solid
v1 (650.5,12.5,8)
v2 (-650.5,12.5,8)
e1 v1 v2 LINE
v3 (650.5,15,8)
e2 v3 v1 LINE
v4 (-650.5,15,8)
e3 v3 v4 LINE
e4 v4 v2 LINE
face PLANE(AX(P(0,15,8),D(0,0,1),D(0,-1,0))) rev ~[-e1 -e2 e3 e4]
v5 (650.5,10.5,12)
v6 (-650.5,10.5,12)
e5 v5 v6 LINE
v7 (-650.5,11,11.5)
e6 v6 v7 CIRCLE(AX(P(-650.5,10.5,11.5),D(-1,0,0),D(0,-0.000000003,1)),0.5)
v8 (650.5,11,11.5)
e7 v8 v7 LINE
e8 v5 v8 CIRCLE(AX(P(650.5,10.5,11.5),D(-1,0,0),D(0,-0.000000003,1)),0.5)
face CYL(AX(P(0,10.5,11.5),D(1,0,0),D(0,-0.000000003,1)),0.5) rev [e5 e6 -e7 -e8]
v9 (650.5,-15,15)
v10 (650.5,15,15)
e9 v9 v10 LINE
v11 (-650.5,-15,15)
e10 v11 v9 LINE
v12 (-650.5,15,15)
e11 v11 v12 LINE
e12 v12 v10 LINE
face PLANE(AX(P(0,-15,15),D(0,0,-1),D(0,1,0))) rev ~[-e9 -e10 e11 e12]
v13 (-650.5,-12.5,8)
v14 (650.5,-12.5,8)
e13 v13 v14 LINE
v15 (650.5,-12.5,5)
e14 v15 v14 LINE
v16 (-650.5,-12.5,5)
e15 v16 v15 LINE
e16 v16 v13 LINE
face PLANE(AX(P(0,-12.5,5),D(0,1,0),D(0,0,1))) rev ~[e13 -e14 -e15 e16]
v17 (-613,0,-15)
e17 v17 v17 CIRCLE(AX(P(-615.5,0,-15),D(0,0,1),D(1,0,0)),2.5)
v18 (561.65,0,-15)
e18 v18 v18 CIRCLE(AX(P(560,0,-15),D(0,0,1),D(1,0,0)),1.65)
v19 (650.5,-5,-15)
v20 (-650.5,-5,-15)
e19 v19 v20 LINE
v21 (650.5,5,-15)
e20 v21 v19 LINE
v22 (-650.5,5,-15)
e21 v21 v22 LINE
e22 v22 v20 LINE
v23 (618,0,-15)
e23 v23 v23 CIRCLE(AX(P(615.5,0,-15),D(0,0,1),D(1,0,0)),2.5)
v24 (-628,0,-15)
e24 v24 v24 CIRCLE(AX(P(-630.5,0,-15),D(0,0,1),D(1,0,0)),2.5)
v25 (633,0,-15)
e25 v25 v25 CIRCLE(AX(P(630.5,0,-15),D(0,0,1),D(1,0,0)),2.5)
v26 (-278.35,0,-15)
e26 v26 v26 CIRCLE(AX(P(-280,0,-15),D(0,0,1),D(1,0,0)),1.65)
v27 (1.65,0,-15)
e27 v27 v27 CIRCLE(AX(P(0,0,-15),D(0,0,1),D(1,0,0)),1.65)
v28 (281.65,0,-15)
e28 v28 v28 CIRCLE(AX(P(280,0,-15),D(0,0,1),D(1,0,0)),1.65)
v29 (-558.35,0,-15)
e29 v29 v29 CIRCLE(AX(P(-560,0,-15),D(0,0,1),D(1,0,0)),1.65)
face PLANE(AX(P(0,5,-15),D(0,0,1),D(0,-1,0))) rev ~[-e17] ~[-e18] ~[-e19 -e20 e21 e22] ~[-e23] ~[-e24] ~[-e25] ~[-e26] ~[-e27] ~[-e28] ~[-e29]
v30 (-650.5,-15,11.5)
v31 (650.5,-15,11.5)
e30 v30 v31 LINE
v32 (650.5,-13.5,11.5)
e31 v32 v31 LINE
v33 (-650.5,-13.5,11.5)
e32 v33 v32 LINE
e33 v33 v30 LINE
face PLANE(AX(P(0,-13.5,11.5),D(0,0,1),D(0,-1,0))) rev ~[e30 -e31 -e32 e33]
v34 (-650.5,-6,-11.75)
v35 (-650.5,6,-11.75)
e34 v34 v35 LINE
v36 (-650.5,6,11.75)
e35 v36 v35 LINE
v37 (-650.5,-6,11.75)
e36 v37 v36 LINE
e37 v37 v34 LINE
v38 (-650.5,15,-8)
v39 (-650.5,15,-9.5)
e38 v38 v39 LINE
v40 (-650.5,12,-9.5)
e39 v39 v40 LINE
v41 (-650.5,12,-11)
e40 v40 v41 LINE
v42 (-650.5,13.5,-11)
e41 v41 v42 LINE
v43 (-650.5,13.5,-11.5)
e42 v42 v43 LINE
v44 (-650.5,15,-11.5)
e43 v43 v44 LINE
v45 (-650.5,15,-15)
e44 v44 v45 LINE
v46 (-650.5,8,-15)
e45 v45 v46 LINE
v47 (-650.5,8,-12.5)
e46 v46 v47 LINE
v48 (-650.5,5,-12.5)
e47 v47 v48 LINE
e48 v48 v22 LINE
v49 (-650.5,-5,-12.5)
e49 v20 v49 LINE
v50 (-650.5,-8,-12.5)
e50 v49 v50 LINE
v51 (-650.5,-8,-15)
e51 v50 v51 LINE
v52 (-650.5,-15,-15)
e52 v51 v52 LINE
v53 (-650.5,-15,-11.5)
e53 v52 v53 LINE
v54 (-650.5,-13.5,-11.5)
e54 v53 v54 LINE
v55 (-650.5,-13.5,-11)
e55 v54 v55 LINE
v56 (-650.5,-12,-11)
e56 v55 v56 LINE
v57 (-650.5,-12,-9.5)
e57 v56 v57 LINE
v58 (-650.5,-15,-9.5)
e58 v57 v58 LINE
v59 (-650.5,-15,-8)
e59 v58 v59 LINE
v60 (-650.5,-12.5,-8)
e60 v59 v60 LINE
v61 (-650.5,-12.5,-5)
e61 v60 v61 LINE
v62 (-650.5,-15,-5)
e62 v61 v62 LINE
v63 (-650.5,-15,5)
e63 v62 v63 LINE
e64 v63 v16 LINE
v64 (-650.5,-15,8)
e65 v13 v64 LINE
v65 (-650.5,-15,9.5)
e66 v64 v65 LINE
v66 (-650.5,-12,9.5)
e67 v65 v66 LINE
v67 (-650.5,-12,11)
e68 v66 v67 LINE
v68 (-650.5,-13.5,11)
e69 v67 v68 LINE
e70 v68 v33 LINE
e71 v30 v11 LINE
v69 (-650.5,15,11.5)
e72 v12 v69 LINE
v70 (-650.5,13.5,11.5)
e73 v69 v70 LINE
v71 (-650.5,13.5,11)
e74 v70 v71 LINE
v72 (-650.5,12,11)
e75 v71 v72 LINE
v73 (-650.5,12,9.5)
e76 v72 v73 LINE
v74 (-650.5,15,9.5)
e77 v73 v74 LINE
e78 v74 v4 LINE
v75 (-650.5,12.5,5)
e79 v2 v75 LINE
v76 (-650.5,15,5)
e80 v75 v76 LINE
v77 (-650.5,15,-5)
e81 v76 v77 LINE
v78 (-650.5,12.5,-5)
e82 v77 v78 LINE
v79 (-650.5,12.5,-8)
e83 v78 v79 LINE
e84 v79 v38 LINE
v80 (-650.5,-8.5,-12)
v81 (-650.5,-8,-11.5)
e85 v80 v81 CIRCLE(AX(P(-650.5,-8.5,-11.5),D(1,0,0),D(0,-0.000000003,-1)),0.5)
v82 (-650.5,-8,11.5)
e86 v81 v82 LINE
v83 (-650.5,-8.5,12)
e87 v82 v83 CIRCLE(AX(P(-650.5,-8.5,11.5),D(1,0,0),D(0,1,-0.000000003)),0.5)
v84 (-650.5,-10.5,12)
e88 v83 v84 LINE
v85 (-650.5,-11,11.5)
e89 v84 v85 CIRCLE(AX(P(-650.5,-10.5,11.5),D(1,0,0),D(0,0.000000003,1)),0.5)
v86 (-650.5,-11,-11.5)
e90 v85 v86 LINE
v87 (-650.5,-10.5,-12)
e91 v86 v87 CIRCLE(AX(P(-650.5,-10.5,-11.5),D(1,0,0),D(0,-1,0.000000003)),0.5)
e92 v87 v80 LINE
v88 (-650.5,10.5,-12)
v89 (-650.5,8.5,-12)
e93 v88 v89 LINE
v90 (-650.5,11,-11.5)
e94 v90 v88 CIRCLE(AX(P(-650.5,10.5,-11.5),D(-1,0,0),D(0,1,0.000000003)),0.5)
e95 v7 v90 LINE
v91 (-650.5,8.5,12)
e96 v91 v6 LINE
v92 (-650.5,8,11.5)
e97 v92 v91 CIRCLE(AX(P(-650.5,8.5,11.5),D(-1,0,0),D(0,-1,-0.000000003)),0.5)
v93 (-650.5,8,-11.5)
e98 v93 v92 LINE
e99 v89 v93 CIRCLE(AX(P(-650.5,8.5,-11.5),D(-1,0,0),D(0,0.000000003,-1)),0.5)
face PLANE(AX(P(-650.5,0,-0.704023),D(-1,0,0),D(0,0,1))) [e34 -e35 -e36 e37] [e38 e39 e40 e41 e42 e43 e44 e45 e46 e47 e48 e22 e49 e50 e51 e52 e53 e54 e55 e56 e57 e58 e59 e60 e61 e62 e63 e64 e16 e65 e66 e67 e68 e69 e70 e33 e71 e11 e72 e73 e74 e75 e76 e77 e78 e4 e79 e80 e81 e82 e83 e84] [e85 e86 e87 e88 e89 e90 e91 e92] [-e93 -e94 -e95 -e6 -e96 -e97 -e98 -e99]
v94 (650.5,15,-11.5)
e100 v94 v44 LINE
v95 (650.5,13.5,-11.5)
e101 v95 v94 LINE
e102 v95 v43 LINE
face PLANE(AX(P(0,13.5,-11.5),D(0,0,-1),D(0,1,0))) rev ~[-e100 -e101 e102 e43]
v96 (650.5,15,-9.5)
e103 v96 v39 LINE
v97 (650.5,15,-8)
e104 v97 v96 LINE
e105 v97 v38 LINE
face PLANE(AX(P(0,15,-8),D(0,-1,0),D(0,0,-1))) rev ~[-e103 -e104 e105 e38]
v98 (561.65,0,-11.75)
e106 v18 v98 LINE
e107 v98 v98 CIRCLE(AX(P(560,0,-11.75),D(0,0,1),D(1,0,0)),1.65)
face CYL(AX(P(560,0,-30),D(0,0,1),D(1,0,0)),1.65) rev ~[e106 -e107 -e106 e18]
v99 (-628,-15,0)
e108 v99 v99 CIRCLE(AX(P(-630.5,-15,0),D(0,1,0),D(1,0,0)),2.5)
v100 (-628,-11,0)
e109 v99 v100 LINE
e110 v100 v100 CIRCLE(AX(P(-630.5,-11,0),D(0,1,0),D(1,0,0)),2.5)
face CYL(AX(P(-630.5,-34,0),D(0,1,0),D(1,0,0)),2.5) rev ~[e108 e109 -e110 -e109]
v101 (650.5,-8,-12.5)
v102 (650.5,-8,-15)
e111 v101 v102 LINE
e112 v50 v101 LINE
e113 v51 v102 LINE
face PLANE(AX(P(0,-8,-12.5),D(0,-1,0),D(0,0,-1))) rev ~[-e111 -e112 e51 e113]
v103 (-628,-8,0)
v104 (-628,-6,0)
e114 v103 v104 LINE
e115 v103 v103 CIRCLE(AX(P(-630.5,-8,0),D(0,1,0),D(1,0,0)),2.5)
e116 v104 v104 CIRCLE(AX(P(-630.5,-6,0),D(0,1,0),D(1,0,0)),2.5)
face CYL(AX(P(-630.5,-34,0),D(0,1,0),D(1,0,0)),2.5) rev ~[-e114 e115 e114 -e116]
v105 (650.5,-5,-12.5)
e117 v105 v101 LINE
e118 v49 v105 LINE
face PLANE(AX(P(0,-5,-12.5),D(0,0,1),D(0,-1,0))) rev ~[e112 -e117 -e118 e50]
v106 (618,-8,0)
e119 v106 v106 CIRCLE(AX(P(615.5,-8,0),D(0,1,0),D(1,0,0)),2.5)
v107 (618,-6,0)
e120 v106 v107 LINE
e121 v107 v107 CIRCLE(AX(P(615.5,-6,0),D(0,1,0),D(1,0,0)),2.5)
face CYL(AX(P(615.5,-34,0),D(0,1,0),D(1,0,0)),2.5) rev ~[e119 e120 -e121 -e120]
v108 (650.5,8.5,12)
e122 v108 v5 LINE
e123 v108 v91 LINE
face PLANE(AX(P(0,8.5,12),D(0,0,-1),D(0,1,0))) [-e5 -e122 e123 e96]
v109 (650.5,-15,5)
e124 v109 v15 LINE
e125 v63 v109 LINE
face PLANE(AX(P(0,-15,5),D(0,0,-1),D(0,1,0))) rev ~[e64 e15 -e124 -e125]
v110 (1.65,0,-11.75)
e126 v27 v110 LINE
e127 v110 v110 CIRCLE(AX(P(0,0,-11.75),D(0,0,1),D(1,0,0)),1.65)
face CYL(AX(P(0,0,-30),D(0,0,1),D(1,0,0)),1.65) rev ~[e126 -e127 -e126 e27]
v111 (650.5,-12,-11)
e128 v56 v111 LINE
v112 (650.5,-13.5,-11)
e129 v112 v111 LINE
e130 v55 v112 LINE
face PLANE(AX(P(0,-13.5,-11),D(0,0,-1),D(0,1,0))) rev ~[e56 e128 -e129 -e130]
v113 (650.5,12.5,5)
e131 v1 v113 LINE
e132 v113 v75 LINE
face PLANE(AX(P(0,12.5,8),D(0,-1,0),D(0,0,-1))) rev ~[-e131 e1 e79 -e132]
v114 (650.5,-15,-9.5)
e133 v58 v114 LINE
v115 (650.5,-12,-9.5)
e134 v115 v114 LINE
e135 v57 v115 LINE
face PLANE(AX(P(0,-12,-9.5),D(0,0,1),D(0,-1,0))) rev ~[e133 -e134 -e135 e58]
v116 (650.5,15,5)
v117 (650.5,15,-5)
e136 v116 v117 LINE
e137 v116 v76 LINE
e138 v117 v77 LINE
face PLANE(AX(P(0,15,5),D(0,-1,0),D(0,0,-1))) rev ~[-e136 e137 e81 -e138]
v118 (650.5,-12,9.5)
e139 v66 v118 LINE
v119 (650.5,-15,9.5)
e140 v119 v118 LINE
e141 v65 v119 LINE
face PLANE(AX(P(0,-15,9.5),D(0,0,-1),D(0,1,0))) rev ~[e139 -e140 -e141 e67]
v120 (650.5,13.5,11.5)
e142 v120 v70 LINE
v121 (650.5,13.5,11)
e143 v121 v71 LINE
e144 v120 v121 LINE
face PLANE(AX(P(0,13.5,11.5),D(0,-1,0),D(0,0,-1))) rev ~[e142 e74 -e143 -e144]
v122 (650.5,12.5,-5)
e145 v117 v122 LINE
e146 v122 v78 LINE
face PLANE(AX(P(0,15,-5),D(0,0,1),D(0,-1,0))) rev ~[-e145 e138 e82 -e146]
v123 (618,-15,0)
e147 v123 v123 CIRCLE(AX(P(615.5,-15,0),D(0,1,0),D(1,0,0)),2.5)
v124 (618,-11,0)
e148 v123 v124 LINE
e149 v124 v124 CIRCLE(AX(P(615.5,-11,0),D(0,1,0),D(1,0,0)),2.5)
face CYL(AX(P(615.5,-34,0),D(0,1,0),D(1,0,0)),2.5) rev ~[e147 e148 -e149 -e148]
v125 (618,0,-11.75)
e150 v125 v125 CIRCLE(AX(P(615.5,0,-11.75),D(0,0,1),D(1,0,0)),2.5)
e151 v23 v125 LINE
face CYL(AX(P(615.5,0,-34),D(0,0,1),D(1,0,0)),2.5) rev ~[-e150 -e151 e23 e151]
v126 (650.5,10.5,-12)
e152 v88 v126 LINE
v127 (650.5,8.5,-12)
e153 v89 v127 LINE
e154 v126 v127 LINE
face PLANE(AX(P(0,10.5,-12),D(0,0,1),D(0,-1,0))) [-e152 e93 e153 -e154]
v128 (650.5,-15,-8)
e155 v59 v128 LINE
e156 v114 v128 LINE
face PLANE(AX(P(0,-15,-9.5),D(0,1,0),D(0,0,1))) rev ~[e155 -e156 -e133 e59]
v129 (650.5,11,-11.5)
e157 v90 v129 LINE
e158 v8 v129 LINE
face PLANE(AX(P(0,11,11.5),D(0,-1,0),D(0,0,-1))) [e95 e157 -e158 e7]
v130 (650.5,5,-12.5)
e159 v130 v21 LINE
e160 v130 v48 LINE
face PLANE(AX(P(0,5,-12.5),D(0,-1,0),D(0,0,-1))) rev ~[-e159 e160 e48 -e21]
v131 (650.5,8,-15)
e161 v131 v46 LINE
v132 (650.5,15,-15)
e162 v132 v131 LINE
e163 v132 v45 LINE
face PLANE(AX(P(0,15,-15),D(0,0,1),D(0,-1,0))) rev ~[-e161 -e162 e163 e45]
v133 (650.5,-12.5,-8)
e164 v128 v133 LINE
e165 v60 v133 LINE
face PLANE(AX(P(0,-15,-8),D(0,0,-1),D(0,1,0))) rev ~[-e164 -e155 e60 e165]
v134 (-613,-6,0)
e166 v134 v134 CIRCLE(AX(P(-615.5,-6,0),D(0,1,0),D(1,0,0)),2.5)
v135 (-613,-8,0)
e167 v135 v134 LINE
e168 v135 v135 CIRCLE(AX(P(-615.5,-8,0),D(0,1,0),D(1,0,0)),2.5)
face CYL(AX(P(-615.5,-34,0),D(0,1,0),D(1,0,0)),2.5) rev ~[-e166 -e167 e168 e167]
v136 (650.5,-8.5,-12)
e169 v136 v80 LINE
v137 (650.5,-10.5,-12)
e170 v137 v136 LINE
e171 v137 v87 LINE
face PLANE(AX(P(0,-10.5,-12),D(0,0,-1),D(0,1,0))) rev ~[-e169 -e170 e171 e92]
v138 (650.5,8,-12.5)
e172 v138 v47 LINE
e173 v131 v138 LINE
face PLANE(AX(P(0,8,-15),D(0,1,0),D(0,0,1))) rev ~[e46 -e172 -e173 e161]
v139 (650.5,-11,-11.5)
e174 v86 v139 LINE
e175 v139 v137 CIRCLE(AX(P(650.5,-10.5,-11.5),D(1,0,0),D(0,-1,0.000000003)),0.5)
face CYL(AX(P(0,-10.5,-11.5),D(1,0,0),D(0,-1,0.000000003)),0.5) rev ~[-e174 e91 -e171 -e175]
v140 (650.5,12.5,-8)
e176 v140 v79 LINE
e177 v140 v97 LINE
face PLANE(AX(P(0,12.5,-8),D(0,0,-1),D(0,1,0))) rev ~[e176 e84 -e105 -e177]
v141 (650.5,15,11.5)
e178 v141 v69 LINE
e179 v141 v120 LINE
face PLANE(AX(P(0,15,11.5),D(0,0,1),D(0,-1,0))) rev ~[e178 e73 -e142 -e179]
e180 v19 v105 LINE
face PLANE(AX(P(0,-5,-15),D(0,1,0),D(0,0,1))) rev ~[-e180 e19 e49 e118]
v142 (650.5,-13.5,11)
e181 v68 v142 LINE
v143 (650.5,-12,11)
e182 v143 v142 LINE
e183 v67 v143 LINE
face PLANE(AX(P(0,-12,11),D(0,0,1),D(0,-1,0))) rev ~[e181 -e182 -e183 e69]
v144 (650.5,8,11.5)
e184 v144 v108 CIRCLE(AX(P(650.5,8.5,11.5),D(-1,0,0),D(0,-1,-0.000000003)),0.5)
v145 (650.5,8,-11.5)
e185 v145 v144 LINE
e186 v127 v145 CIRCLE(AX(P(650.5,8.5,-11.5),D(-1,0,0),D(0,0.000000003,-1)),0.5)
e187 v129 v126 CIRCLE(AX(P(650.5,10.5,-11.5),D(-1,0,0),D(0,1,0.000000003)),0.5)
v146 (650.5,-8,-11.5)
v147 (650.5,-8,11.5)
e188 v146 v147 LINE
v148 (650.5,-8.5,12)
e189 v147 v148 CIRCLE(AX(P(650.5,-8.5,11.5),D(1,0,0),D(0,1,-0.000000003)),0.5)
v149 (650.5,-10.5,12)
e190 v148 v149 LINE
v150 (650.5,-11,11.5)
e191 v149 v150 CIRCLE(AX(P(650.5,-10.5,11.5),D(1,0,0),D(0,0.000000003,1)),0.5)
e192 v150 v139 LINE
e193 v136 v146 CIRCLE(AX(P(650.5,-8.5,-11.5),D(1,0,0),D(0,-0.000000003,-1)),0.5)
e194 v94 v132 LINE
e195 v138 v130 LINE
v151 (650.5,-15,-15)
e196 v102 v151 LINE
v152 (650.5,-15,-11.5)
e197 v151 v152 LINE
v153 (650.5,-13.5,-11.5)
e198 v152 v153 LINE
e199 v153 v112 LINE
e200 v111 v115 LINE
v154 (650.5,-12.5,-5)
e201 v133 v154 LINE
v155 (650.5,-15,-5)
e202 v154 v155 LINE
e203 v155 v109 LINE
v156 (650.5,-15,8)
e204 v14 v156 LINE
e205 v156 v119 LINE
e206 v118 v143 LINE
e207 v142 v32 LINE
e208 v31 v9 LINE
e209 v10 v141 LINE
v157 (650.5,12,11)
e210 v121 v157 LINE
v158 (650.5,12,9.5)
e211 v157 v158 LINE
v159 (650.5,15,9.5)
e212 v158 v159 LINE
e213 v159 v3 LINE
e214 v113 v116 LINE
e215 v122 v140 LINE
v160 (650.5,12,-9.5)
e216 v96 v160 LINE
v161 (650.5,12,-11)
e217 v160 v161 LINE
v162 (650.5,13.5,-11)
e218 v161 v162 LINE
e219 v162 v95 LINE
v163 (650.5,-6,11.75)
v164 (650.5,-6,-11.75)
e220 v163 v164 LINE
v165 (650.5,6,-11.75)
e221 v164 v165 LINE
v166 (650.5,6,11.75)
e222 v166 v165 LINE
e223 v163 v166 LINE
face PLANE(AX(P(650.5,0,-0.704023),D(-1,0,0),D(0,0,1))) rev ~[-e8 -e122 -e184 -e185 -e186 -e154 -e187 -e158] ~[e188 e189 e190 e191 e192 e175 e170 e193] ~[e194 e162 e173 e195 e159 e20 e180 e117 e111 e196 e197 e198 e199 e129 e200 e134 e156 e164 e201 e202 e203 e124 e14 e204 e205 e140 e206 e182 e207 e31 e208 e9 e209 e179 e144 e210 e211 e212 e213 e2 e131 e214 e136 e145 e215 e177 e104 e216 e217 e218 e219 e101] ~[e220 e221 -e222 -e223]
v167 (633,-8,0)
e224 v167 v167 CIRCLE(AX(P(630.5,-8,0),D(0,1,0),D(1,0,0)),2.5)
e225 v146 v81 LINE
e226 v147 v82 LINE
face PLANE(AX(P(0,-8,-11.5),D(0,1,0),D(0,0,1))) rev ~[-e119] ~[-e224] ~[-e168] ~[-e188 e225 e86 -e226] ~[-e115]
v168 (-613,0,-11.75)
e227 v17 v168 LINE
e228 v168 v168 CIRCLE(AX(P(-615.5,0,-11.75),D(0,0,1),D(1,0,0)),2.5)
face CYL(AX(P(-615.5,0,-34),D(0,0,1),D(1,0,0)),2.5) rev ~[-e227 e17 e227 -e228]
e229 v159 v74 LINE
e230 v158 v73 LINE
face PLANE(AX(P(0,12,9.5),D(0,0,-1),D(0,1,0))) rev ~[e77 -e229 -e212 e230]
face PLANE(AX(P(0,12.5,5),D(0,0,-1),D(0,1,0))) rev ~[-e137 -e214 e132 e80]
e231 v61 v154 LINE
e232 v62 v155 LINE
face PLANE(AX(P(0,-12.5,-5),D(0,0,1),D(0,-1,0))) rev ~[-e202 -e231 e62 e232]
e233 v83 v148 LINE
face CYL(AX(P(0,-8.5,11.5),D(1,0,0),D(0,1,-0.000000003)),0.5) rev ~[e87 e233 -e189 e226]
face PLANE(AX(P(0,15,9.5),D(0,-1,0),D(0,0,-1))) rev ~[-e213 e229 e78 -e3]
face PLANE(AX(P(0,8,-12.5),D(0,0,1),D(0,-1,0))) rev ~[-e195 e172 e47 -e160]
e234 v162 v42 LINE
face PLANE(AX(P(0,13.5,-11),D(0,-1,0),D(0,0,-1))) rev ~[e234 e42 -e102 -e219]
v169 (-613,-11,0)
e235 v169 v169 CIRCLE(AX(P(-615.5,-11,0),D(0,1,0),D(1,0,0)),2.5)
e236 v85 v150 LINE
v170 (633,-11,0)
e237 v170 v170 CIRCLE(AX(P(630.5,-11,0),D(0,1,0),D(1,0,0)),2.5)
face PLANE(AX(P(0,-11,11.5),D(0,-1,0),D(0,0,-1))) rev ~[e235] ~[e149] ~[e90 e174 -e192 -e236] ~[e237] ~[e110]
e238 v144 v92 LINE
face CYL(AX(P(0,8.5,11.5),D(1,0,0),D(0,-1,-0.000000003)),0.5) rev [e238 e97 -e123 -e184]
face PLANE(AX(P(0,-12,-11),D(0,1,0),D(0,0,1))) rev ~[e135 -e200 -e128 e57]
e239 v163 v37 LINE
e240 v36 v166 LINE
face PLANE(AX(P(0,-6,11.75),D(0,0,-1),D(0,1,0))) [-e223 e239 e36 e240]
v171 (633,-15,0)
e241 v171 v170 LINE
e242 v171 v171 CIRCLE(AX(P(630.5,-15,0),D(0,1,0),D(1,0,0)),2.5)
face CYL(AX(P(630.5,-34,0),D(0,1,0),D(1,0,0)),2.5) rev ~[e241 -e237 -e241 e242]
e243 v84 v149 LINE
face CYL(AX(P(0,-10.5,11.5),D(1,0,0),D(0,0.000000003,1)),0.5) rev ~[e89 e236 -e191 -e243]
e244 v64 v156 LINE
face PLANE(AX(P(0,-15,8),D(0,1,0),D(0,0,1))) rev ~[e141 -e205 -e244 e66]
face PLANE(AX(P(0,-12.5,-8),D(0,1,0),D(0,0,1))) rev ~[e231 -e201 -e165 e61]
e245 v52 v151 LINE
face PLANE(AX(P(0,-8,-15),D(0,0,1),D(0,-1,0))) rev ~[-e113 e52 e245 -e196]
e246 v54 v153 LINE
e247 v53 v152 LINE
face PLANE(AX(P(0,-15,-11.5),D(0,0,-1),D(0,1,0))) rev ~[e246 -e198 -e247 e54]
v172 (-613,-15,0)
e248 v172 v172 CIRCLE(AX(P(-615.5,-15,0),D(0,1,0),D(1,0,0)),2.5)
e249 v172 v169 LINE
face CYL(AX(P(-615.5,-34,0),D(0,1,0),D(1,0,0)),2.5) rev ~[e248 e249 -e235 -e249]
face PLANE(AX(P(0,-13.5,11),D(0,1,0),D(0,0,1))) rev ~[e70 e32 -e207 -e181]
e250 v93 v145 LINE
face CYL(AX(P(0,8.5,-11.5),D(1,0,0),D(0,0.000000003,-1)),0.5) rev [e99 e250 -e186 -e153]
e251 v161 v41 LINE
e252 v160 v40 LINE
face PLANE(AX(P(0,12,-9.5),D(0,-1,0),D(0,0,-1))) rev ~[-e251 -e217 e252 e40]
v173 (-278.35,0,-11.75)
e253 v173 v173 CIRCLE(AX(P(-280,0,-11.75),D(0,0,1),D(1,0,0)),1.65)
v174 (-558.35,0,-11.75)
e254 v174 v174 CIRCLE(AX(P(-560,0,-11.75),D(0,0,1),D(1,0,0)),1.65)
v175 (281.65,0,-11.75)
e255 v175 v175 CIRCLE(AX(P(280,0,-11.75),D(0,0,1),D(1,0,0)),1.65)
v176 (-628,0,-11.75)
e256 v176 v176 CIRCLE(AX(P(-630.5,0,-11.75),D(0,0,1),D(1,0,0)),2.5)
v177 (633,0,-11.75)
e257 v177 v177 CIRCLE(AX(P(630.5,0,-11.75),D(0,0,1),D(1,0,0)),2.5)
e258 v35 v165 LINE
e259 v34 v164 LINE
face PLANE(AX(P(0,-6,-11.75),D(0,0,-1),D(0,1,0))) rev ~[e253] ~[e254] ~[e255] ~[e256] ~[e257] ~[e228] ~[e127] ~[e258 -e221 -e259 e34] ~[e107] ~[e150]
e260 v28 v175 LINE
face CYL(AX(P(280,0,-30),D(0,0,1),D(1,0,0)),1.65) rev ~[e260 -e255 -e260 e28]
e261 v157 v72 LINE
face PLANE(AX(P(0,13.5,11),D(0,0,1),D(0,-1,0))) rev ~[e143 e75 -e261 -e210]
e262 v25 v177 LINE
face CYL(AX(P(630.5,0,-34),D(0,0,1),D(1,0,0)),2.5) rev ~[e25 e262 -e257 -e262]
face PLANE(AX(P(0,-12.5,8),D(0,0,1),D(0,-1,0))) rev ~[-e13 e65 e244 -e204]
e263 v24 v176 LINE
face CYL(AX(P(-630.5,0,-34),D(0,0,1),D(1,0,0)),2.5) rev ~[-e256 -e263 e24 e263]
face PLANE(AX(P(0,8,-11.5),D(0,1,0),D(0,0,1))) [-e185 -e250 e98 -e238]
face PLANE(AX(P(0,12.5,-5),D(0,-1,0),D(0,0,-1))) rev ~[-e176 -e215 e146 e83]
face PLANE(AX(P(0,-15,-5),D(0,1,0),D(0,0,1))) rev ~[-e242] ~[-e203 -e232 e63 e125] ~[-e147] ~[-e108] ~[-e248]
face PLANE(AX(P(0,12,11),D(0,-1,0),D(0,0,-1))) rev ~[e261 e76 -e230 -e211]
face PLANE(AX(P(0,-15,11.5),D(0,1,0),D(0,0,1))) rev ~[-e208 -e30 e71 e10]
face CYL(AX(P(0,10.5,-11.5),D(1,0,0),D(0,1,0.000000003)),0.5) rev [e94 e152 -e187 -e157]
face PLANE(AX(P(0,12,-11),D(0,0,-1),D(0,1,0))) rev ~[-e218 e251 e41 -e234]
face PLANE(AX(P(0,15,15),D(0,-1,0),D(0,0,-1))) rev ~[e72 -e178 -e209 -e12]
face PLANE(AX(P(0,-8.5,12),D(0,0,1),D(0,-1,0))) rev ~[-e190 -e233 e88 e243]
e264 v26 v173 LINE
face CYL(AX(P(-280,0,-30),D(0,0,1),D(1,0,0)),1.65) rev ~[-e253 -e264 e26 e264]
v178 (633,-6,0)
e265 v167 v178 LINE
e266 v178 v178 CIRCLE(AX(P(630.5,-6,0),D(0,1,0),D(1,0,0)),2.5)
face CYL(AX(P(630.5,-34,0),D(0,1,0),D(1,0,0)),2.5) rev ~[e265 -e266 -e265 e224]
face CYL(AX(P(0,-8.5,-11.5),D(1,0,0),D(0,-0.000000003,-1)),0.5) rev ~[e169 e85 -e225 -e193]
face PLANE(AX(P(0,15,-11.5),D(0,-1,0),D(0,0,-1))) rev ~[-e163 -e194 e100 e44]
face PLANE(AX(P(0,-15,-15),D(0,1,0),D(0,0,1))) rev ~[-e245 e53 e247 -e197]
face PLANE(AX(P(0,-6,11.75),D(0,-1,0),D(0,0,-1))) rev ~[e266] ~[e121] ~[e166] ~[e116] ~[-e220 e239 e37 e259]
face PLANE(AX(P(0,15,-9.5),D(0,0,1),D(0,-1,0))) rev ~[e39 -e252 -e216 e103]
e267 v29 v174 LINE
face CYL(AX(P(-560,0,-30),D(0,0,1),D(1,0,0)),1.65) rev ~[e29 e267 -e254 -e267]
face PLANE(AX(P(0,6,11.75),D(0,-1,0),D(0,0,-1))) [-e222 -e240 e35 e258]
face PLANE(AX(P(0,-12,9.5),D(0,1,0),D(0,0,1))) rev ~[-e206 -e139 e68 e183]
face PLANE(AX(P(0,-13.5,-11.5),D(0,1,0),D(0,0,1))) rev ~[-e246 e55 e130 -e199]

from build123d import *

# Parameters (mm, degrees)
SKETCH_1_W             = 23.5
SKETCH_1_H             = 12
EXTRUDE_1_DEPTH        = 650.5
HOLE_WIZARD_M6_1_D     = 5
HOLE_WIZARD_M6_1_DEPTH = 19
HOLE_WIZARD_M6_1_TIP   = 1.502151548
HOLE_WIZARD_M6_2_D     = 5
HOLE_WIZARD_M6_2_DEPTH = 19
HOLE_WIZARD_M6_2_TIP   = 1.502151548
HOLE_WIZARD_M4_1_D     = 3.3
HOLE_WIZARD_M4_1_DEPTH = 15
HOLE_WIZARD_M4_1_TIP   = 0.991420021


with BuildPart() as part:
    # 草图1 → 凸台-拉伸1 (new, symmetric)
    with BuildSketch(Plane(origin=(0, 0, 0), x_dir=(0, 0, -1), z_dir=(1, 0, 0))):
        Polygon((-15, 15), (-11.5, 15), (-11.5, 13.5), (-11, 13.5), (-11, 12), (-9.5, 12), (-9.5, 15), (-8, 15), (-8, 12.5), (-5, 12.5), (-5, 15), (5, 15), (5, 12.5), (8, 12.5), (8, 15), (9.5, 15), (9.5, 12), (11, 12), (11, 13.5), (11.5, 13.5), (11.5, 15), (15, 15), (15, 8), (12.5, 8), (12.5, 5), (15, 5), (15, -5), (12.5, -5), (12.5, -8), (15, -8), (15, -15), (11.5, -15), (11.5, -13.5), (11, -13.5), (11, -12), (9.5, -12), (9.5, -15), (8, -15), (8, -12.5), (5, -12.5), (5, -15), (-5, -15), (-5, -12.5), (-8, -12.5), (-8, -15), (-9.5, -15), (-9.5, -12), (-11, -12), (-11, -13.5), (-11.5, -13.5), (-11.5, -15), (-15, -15), align=None)
        with BuildLine():
            Line((12, -10.5), (12, -8.5))
            ThreePointArc((12, -8.5), (11.853553391, -8.146446609), (11.5, -8))
            Line((11.5, -8), (-11.5, -8))
            ThreePointArc((-11.5, -8), (-11.853553391, -8.146446609), (-12, -8.5))
            Line((-12, -8.5), (-12, -10.5))
            ThreePointArc((-12, -10.5), (-11.853553391, -10.853553391), (-11.5, -11))
            Line((-11.5, -11), (11.5, -11))
            ThreePointArc((11.5, -11), (11.853553391, -10.853553391), (12, -10.5))
        make_face(mode=Mode.SUBTRACT)
        with BuildLine():
            Line((-11.5, 11), (11.5, 11))
            ThreePointArc((11.5, 11), (11.853553391, 10.853553391), (12, 10.5))
            Line((12, 10.5), (12, 8.5))
            ThreePointArc((12, 8.5), (11.853553391, 8.146446609), (11.5, 8))
            Line((11.5, 8), (-11.5, 8))
            ThreePointArc((-11.5, 8), (-11.853553391, 8.146446609), (-12, 8.5))
            Line((-12, 8.5), (-12, 10.5))
            ThreePointArc((-12, 10.5), (-11.853553391, 10.853553391), (-11.5, 11))
        make_face(mode=Mode.SUBTRACT)
        Rectangle(SKETCH_1_W, SKETCH_1_H, mode=Mode.SUBTRACT)
    extrude(amount=EXTRUDE_1_DEPTH, both=True)

    # M6 螺纹孔1
    with Locations(Plane(origin=(0, -15, 0), x_dir=(-1, 0, 0), z_dir=(0, -1, 0))):
        with Locations((615.5, 0), (630.5, 0), (-615.5, 0), (-630.5, 0)):
            Hole(HOLE_WIZARD_M6_1_D / 2, depth=HOLE_WIZARD_M6_1_DEPTH)
            with Locations((0, 0, -(HOLE_WIZARD_M6_1_DEPTH + HOLE_WIZARD_M6_1_TIP / 2))):  # 118° drill point
                Cone(0, HOLE_WIZARD_M6_1_D / 2, HOLE_WIZARD_M6_1_TIP, mode=Mode.SUBTRACT)

    # M6 螺纹孔2
    with Locations(Plane(origin=(0, 0, -15), x_dir=(-1, 0, 0), z_dir=(0, 0, -1))):
        with Locations((-630.5, 0), (-615.5, 0), (630.5, 0), (615.5, 0)):
            Hole(HOLE_WIZARD_M6_2_D / 2, depth=HOLE_WIZARD_M6_2_DEPTH)
            with Locations((0, 0, -(HOLE_WIZARD_M6_2_DEPTH + HOLE_WIZARD_M6_2_TIP / 2))):  # 118° drill point
                Cone(0, HOLE_WIZARD_M6_2_D / 2, HOLE_WIZARD_M6_2_TIP, mode=Mode.SUBTRACT)

    # M4 螺纹孔1
    with Locations(Plane(origin=(0, 0, -15), x_dir=(-1, 0, 0), z_dir=(0, 0, -1))):
        with Locations((560, 0), (280, 0), (0, 0), (-280, 0), (-560, 0)):
            Hole(HOLE_WIZARD_M4_1_D / 2, depth=HOLE_WIZARD_M4_1_DEPTH)
            with Locations((0, 0, -(HOLE_WIZARD_M4_1_DEPTH + HOLE_WIZARD_M4_1_TIP / 2))):  # 118° drill point
                Cone(0, HOLE_WIZARD_M4_1_D / 2, HOLE_WIZARD_M4_1_TIP, mode=Mode.SUBTRACT)


solid = part.part
